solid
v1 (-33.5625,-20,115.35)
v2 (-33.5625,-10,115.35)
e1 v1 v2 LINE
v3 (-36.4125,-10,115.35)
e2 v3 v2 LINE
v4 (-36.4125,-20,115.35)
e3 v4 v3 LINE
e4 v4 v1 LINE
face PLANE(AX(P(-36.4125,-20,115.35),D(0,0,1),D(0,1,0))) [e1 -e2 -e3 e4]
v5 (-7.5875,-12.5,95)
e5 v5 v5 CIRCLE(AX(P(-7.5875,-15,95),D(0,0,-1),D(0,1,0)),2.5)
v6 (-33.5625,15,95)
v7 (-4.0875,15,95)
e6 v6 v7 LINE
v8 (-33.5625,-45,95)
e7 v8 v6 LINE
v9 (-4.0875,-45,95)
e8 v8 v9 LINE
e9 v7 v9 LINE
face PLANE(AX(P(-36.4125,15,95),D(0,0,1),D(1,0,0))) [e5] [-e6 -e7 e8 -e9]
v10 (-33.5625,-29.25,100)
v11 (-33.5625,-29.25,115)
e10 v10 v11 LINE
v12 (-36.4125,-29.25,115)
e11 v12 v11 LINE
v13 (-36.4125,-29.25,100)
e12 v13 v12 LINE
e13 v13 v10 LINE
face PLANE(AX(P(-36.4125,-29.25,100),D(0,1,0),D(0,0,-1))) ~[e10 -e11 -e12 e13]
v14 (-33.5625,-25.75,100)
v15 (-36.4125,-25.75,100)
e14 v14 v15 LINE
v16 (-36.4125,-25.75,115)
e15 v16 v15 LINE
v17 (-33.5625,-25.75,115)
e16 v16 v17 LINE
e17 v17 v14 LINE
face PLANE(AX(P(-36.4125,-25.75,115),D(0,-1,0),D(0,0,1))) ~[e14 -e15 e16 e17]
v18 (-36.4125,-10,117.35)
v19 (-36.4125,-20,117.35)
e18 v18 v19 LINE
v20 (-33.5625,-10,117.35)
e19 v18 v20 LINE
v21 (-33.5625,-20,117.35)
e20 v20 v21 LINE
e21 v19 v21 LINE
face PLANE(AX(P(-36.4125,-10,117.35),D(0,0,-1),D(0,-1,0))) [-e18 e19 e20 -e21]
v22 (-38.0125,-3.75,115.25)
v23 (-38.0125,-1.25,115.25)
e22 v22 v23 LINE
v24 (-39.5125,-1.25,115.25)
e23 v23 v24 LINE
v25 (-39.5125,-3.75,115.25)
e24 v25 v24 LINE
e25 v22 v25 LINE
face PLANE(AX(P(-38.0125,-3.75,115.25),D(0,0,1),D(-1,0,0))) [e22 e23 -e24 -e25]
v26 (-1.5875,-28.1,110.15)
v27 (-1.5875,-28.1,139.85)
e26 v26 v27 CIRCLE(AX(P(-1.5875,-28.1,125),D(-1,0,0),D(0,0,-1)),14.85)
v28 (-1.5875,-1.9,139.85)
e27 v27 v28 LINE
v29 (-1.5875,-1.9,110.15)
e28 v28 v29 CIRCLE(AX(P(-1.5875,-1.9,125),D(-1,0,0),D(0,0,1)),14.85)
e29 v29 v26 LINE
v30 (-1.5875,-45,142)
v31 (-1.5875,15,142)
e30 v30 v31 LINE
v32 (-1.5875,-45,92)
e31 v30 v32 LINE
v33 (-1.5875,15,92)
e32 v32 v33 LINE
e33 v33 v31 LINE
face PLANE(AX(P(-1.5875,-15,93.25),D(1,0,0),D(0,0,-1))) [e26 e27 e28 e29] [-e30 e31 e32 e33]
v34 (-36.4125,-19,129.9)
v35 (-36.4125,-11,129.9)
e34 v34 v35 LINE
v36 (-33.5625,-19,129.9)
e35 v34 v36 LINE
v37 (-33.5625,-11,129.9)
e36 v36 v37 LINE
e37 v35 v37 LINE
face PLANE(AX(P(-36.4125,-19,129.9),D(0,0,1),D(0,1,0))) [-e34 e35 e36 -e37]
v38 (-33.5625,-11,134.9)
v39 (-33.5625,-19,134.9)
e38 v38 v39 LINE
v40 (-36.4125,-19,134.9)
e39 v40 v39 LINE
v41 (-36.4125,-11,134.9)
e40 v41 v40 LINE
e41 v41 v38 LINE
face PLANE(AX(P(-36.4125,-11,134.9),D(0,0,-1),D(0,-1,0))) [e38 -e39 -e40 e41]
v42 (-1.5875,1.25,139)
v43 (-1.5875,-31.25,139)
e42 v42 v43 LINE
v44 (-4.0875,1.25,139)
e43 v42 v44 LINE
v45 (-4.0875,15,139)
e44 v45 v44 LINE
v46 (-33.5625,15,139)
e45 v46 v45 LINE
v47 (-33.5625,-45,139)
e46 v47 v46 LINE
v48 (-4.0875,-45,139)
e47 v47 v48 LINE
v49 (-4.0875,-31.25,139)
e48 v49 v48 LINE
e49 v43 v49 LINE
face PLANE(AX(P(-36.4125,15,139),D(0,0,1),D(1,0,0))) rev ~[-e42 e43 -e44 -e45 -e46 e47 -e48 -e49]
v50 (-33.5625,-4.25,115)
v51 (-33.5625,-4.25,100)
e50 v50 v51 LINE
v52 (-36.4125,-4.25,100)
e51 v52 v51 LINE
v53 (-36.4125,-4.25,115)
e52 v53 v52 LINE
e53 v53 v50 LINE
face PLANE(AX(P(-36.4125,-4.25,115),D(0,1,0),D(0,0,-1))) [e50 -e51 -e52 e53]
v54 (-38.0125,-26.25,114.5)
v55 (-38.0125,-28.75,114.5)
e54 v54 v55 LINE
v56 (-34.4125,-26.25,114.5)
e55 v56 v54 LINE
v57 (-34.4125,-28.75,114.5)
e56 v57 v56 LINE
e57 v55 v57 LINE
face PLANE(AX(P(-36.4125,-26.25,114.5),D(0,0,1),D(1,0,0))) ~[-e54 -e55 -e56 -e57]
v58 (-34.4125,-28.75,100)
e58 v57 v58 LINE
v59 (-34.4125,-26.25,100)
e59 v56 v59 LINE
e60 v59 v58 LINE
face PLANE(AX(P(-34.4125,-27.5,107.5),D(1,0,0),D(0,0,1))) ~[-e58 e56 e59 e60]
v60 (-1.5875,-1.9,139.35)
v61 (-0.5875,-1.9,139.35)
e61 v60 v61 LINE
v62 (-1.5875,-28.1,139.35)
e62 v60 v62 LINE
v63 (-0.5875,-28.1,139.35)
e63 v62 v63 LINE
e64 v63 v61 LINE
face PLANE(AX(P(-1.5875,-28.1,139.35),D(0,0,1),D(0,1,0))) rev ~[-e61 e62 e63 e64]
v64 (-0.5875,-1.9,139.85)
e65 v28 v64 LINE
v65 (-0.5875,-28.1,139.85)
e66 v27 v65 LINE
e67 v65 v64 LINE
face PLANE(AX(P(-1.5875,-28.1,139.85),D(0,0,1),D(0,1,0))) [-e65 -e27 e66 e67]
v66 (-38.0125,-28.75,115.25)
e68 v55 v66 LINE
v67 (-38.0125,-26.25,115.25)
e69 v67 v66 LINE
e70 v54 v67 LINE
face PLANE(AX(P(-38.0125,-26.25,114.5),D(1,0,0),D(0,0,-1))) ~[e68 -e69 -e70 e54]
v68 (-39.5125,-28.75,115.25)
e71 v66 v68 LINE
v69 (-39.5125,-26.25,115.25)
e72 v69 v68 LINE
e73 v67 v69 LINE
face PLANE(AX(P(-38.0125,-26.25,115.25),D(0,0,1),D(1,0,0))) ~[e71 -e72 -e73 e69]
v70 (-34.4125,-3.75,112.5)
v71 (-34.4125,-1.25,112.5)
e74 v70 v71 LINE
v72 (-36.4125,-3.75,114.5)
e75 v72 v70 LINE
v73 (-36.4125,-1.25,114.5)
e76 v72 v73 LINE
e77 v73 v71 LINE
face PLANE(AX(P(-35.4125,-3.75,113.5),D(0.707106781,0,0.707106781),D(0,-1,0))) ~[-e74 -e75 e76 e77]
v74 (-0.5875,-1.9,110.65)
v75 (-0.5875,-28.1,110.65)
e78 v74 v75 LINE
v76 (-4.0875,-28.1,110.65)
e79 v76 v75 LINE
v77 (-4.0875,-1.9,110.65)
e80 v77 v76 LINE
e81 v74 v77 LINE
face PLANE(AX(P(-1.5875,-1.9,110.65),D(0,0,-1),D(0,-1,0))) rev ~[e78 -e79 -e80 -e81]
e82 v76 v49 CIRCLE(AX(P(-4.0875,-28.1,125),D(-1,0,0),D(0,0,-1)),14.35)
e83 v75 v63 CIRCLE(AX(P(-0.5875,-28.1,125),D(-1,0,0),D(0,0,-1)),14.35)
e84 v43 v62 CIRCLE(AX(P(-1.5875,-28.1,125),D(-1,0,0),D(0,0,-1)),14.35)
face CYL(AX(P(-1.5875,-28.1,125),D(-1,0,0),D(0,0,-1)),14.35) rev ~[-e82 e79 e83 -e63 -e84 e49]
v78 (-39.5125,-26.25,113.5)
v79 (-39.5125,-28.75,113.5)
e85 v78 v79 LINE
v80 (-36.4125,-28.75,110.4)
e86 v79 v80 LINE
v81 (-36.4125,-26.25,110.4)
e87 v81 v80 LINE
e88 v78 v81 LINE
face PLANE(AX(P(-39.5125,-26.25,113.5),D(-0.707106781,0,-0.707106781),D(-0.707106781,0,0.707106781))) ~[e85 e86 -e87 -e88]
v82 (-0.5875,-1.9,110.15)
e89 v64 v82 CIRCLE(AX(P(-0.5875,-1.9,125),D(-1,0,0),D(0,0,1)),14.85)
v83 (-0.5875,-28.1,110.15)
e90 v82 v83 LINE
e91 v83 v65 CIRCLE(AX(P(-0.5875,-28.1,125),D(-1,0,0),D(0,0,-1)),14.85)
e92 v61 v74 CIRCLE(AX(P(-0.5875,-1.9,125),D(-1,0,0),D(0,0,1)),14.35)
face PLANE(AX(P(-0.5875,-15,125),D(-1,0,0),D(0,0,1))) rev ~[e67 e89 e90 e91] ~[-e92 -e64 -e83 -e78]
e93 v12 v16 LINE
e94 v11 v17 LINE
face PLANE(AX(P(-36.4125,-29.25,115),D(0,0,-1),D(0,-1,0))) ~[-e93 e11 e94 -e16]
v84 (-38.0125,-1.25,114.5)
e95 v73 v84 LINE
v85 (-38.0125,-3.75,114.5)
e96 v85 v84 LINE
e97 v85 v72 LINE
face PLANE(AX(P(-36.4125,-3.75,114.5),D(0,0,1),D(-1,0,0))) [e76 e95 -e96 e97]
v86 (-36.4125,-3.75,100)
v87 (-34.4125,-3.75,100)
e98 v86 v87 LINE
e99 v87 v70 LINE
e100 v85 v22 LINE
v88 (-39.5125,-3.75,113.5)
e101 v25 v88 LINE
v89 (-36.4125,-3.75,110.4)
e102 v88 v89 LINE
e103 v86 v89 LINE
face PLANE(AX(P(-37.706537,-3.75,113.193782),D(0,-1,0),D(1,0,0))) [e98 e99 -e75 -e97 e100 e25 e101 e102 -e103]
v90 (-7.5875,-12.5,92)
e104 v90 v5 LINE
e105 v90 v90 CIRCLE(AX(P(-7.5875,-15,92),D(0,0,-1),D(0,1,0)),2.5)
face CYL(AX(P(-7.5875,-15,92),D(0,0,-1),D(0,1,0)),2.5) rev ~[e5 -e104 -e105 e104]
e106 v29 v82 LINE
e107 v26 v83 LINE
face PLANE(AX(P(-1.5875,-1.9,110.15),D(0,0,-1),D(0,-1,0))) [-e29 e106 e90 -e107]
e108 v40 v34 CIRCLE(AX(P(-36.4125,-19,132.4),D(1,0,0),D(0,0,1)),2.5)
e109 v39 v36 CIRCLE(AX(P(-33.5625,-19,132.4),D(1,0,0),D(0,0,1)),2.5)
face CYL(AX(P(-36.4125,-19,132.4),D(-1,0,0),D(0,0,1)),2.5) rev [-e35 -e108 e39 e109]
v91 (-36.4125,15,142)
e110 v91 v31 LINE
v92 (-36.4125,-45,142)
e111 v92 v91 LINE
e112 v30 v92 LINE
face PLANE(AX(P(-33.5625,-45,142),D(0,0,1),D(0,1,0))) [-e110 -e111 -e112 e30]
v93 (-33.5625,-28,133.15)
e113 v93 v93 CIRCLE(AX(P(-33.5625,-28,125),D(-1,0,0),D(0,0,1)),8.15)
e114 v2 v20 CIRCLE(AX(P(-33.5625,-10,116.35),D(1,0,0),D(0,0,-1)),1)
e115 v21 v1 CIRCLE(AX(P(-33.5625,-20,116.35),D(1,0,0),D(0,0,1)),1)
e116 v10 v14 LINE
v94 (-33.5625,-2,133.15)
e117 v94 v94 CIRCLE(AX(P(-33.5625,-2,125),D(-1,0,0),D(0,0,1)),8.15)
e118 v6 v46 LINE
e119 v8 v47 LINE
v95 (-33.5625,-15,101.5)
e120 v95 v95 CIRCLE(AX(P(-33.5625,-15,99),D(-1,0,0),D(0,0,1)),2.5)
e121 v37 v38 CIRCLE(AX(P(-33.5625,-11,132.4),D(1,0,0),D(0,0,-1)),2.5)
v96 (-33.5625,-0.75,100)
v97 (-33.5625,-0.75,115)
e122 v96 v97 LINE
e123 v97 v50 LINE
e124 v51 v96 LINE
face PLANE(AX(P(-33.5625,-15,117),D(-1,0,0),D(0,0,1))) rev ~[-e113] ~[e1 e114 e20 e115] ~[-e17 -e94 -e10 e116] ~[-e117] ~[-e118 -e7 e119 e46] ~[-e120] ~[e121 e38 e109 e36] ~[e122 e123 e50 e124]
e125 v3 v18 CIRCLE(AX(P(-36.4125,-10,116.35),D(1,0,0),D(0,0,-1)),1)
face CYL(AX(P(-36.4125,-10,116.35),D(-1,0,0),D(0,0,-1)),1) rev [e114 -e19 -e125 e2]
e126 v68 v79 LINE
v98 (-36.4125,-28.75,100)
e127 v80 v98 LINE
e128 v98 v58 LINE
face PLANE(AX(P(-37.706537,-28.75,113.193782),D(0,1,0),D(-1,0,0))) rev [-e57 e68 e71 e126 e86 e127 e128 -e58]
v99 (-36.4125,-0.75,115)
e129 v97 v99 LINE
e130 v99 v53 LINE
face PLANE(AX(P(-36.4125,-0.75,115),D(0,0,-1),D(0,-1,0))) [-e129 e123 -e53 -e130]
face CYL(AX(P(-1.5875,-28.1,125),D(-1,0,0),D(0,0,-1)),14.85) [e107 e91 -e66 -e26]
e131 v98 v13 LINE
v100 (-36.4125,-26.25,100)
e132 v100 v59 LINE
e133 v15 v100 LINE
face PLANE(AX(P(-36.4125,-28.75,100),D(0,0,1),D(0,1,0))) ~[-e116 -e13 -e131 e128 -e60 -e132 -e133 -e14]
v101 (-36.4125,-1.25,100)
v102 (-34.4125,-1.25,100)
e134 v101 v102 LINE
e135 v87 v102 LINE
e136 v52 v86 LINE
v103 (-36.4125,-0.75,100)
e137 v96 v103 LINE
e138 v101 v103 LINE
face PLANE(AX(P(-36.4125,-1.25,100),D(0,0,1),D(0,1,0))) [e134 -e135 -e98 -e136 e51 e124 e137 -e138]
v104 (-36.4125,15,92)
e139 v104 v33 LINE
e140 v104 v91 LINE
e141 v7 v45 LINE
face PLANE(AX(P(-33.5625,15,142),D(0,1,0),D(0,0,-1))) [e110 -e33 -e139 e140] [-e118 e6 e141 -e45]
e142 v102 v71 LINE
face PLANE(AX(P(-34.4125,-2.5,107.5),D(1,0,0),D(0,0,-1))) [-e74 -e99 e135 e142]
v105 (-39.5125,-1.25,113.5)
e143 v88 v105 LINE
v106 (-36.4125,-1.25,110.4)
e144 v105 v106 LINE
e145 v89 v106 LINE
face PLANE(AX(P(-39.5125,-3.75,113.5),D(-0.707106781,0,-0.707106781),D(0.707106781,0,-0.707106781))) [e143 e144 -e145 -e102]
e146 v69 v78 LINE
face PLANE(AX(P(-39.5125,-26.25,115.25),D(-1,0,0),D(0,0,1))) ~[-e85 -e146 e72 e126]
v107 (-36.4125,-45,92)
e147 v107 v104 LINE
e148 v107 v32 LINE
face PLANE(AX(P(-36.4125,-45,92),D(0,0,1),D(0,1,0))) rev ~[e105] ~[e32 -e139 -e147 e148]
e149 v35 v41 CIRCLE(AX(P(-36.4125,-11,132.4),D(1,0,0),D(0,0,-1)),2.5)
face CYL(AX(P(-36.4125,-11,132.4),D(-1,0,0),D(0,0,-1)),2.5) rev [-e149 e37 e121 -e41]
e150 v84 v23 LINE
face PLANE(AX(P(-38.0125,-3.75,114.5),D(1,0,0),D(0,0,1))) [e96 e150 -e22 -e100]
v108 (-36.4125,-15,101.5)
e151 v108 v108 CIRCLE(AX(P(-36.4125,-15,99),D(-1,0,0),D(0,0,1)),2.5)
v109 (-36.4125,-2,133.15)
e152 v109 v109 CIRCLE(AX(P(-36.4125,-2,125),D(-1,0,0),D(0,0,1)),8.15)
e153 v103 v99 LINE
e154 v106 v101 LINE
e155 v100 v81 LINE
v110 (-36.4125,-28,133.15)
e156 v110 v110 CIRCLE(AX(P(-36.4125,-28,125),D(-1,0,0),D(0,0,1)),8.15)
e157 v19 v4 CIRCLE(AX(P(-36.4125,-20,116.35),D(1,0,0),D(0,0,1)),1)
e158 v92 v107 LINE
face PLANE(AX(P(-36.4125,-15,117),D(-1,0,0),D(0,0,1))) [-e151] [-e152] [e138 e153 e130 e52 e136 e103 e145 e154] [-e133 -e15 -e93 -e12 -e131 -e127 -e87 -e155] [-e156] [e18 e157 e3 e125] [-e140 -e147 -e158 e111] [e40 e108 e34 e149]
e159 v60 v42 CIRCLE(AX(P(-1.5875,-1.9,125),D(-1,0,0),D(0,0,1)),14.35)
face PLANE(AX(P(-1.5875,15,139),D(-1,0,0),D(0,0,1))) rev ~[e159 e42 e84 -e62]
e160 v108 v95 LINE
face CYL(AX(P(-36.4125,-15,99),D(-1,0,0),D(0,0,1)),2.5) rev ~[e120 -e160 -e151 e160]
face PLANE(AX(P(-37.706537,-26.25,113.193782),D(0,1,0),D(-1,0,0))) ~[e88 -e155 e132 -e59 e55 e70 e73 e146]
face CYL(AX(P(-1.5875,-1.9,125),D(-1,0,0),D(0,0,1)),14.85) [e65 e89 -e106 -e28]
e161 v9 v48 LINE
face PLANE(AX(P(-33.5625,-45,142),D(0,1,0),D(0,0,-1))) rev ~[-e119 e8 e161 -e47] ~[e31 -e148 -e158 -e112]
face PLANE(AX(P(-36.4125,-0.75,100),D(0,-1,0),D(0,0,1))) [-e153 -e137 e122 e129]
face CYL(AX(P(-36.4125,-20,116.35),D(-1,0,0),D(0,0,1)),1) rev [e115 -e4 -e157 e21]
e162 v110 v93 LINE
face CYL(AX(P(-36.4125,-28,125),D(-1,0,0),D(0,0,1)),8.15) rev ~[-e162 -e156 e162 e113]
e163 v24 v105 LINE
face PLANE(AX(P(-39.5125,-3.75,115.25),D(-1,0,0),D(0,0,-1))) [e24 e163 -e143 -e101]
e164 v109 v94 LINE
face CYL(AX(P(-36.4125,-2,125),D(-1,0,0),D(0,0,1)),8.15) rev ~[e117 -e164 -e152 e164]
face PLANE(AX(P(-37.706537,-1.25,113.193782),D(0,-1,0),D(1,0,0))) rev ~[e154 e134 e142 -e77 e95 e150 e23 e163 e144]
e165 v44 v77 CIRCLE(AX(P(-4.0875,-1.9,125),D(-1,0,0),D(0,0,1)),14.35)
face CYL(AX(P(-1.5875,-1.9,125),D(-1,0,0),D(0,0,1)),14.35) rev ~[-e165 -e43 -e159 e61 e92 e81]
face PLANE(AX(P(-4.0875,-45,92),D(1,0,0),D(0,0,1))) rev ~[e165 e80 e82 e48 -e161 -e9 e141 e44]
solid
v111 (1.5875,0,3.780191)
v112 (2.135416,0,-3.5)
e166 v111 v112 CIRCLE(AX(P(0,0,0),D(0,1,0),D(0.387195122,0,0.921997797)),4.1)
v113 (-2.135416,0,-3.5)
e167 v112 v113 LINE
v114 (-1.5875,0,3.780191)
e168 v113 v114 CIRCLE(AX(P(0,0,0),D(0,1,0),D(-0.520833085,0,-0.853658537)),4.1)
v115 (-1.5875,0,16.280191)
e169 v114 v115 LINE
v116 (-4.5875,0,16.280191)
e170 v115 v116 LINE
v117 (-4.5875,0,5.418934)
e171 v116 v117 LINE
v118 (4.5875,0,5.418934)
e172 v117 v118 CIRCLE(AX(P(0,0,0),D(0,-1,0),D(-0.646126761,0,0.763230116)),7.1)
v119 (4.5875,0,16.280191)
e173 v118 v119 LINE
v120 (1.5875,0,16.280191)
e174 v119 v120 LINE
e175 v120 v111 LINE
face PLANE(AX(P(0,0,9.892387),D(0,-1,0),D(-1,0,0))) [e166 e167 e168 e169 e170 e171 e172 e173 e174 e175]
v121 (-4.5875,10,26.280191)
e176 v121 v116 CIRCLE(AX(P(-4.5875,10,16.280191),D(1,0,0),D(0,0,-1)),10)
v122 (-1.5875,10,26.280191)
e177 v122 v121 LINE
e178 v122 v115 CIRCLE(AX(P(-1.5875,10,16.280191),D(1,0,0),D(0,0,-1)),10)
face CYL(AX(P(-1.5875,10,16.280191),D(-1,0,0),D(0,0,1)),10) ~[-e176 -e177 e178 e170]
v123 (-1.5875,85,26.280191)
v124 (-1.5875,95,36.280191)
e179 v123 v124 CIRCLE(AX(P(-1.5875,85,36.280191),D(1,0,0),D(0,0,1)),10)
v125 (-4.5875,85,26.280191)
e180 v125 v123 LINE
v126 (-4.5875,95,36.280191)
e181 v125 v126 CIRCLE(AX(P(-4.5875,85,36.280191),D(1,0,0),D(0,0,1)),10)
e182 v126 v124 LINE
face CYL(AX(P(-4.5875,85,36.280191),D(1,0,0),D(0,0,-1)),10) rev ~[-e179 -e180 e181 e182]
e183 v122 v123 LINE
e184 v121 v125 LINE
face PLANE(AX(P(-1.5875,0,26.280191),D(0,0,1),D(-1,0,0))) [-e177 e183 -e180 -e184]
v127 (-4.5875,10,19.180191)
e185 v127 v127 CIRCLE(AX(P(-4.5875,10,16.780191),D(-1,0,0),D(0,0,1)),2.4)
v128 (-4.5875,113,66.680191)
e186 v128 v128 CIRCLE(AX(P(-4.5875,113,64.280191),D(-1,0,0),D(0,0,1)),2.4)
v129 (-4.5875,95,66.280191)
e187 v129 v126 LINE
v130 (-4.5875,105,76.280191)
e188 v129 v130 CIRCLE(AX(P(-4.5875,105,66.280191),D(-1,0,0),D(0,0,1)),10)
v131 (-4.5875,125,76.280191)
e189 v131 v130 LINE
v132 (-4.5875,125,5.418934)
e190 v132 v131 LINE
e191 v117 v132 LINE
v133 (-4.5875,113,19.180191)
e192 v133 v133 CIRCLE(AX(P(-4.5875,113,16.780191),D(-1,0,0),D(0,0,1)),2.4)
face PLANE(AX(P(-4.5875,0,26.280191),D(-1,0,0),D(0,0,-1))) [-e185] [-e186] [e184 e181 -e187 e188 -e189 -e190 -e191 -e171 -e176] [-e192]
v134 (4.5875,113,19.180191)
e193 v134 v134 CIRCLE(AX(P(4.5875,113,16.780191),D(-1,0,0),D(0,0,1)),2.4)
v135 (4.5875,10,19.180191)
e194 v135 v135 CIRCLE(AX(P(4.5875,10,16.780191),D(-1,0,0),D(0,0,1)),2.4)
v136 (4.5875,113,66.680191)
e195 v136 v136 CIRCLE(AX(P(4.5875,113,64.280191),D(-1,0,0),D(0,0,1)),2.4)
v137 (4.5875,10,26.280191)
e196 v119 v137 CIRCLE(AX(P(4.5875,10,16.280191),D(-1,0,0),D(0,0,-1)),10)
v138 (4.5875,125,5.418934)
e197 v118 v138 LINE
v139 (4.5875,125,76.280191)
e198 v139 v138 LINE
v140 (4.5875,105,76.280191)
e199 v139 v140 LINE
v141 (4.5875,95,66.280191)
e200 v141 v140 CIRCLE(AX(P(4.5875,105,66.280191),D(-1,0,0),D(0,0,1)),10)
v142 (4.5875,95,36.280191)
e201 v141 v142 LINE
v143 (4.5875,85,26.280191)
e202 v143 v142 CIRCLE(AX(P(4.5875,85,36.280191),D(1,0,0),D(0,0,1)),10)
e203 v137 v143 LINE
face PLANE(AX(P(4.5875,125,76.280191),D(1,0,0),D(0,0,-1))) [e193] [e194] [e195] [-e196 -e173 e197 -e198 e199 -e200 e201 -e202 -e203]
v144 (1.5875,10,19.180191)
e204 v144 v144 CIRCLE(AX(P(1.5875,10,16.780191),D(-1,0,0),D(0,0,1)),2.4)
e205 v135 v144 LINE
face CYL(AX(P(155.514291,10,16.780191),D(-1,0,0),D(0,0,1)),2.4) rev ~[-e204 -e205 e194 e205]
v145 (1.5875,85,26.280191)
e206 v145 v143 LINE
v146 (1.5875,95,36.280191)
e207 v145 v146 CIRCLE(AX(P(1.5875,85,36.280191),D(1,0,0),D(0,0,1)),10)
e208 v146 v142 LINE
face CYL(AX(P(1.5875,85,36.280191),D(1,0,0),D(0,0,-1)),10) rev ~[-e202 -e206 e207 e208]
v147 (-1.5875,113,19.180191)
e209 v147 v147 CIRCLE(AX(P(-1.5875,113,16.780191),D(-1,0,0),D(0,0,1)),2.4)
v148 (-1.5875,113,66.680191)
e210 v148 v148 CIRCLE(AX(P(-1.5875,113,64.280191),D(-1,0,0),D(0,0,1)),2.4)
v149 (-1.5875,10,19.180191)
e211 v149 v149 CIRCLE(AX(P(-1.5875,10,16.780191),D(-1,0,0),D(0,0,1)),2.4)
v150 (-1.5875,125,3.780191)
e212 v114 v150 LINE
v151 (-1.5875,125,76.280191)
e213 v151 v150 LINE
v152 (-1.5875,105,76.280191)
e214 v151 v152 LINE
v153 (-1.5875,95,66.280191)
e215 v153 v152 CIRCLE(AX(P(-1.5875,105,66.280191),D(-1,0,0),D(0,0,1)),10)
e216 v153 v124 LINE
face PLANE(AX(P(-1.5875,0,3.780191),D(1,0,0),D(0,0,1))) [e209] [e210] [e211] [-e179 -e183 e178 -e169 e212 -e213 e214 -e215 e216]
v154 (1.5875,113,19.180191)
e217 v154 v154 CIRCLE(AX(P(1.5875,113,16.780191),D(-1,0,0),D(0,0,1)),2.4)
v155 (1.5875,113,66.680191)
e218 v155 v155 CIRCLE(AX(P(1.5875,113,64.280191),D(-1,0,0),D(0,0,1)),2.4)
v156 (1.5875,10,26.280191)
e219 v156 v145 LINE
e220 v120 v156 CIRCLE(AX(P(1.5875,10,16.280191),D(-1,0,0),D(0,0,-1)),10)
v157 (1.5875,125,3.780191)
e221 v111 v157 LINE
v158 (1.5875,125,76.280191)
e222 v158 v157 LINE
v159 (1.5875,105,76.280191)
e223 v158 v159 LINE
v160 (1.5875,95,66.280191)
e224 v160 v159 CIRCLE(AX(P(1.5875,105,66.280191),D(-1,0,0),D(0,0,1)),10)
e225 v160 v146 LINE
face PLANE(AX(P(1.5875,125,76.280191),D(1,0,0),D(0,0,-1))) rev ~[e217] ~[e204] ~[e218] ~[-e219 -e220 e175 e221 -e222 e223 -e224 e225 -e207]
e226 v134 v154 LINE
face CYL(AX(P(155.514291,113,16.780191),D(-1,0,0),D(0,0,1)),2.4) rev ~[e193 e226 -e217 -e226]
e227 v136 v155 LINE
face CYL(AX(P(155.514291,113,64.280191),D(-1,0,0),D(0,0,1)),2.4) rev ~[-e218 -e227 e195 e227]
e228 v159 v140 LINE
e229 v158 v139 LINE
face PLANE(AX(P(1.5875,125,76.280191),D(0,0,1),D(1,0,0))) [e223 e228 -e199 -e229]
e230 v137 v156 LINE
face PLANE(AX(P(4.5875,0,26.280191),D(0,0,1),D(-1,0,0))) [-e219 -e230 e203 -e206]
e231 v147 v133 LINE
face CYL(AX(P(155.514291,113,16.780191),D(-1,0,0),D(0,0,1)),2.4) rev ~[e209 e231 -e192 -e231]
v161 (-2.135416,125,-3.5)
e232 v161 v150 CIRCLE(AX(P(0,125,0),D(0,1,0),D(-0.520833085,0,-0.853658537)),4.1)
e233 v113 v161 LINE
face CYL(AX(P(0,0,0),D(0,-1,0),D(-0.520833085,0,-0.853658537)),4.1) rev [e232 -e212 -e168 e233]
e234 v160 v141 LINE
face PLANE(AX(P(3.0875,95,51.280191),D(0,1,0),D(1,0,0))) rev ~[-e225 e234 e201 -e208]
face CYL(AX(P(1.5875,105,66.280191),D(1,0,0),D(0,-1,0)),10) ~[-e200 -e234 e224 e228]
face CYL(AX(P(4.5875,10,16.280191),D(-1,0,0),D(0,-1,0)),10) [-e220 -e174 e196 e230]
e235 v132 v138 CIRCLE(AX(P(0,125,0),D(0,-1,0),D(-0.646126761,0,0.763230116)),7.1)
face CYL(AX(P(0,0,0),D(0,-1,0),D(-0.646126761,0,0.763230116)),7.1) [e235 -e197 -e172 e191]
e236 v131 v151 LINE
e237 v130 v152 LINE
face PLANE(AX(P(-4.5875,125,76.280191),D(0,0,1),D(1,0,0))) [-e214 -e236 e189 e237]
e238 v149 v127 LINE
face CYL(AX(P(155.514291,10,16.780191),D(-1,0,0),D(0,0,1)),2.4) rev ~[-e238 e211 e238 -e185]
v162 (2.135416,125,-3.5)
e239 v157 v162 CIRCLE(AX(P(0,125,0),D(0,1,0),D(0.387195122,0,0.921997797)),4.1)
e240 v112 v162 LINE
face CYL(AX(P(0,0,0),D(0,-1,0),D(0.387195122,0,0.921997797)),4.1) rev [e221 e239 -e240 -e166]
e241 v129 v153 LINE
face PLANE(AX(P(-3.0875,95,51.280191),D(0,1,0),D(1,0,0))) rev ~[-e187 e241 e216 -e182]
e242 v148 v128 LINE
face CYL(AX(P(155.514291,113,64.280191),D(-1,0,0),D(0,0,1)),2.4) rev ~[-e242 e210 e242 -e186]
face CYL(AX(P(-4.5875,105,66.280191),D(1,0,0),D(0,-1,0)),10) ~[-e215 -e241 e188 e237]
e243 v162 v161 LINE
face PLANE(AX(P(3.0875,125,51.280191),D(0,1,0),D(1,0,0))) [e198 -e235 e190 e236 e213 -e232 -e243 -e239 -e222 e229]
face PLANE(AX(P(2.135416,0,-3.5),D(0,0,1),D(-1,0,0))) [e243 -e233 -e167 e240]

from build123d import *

# Parameters (mm, degrees)
BOSS_EXTRUDE1_DEPTH  = 125
SKETCH6_W            = 3
SKETCH6_H            = 50
BOSS_EXTRUDE3_DEPTH  = 30
FILLET6_R            = 10
M4_CLEARANCE_HOLE1_D = 4.8
SKETCH16_W           = 50
SKETCH16_H           = 60
SKETCH16_R           = 8.15
BOSS_EXTRUDE9_DEPTH  = 2.85
SKETCH19_W           = 2.5
SKETCH19_H           = 60
BOSS_EXTRUDE11_DEPTH = 31.975
SKETCH20_W           = 2.5
SKETCH20_H           = 50
BOSS_EXTRUDE12_DEPTH = 60
CUT_EXTRUDE3_DEPTH   = 2.5
BOSS_EXTRUDE13_DEPTH = 1
BOSS_EXTRUDE10_START = -60
SKETCH18_W           = 34.825
SKETCH18_H           = 3
BOSS_EXTRUDE10_DEPTH = 60
CUT_EXTRUDE4_DEPTH   = 2.85
BOSS_EXTRUDE16_DEPTH = 2.5
SKETCH26_W           = 15
SKETCH26_H           = 3.5
CUT_EXTRUDE5_DEPTH   = 0.85
CHAMFER4_SIZE        = 2
SKETCH27_R           = 2.5
CUT_EXTRUDE6_DEPTH   = 2.85
SKETCH28_R           = 2.5
CUT_EXTRUDE7_DEPTH   = 3


with BuildPart() as part:
    # Sketch1 → Boss-Extrude1 (new body)
    with BuildSketch(Plane(origin=(0, 0, 0), x_dir=(1, 0, 0), z_dir=(0, 1, 0))):
        with BuildLine():
            Line((-1.5875, -3.780190967), (-1.5875, -26.280190967))
            Line((-1.5875, -26.280190967), (-4.5875, -26.280190967))
            Line((-4.5875, -26.280190967), (-4.5875, -5.41893382))
            ThreePointArc((-4.5875, -5.41893382), (0, 7.1), (4.5875, -5.41893382))
            Line((4.5875, -5.41893382), (4.5875, -26.280190967))
            Line((4.5875, -26.280190967), (1.5875, -26.280190967))
            Line((1.5875, -26.280190967), (1.5875, -3.780190967))
            ThreePointArc((1.5875, -3.780190967), (4.088437399, -0.30770056), (2.13541565, 3.5))
            Line((2.13541565, 3.5), (-2.13541565, 3.5))
            ThreePointArc((-2.13541565, 3.5), (-4.088437399, -0.30770056), (-1.5875, -3.780190967))
        make_face()
    extrude(amount=BOSS_EXTRUDE1_DEPTH)

    # Sketch6 → Boss-Extrude3 (add)
    with BuildSketch(Plane(origin=(0, 125, 0), x_dir=(1, 0, 0), z_dir=(0, 1, 0))):
        with Locations((3.0875, -51.280190967)):
            Rectangle(SKETCH6_W, SKETCH6_H)
        with Locations((-3.0875, -51.280190967)):
            Rectangle(SKETCH6_W, SKETCH6_H)
    extrude(amount=-BOSS_EXTRUDE3_DEPTH)

    # Fillet6
    fillet6_edges = [part.edges().sort_by_distance(p)[0] for p in [
        (-3.0875, 0, 26.280190967),
        (3.0875, 0, 26.280190967),
        (3.0875, 95, 26.280190967),
        (3.0875, 95, 76.280190967),
        (-3.0875, 95, 26.280190967),
        (-3.0875, 95, 76.280190967),
    ]]
    fillet(fillet6_edges, radius=FILLET6_R)

    # M4 Clearance Hole1 (through all)
    with Locations(Plane(origin=(4.5875, 0, 0), x_dir=(0, 0, -1), z_dir=(1, 0, 0))):
        with Locations((-16.780190967, 113), (-16.780190967, 10), (-64.280190967, 113)):
            Hole(M4_CLEARANCE_HOLE1_D / 2)


with BuildPart() as body_2:
    # Sketch16 → Boss-Extrude9 (new body)
    with BuildSketch(Plane.ZY.offset(36.4125)):
        with Locations((117, -15)):
            Rectangle(SKETCH16_W, SKETCH16_H)
        with Locations((125, -2)):
            Circle(SKETCH16_R, mode=Mode.SUBTRACT)
        with Locations((125, -28)):
            Circle(SKETCH16_R, mode=Mode.SUBTRACT)
        with BuildLine():
            Line((134.9, -11), (134.9, -19))
            ThreePointArc((134.9, -19), (132.4, -21.5), (129.9, -19))
            Line((129.9, -19), (129.9, -11))
            ThreePointArc((129.9, -11), (132.4, -8.5), (134.9, -11))
        make_face(mode=Mode.SUBTRACT)
        with BuildLine():
            Line((117.35, -10), (117.35, -20))
            ThreePointArc((117.35, -20), (116.35, -21), (115.35, -20))
            Line((115.35, -20), (115.35, -10))
            ThreePointArc((115.35, -10), (116.35, -9), (117.35, -10))
        make_face(mode=Mode.SUBTRACT)
    extrude(amount=-BOSS_EXTRUDE9_DEPTH)

    # Sketch19 → Boss-Extrude11 (add)
    with BuildSketch(Plane(origin=(-33.5625, 0, 0), x_dir=(0, 0, -1), z_dir=(1, 0, 0))):
        with Locations((-140.75, -15)):
            Rectangle(SKETCH19_W, SKETCH19_H)
        with Locations((-93.25, -15)):
            Rectangle(SKETCH19_W, SKETCH19_H)
    extrude(amount=BOSS_EXTRUDE11_DEPTH)

    # Sketch20 → Boss-Extrude12 (add)
    with BuildSketch(Plane.XZ.offset(45)):
        with Locations((-2.8375, 117)):
            Rectangle(SKETCH20_W, SKETCH20_H)
    extrude(amount=-BOSS_EXTRUDE12_DEPTH)

    # Sketch21<2> → Cut-Extrude3 (cut)
    with BuildSketch(Plane(origin=(-1.5875, 0, 0), x_dir=(0, 0, -1), z_dir=(1, 0, 0))):
        with BuildLine():
            Line((-110.65, -1.9), (-110.65, -28.1))
            ThreePointArc((-110.65, -28.1), (-125, -42.45), (-139.35, -28.1))
            Line((-139.35, -28.1), (-139.35, -1.9))
            ThreePointArc((-139.35, -1.9), (-125, 12.45), (-110.65, -1.9))
        make_face()
    extrude(amount=-CUT_EXTRUDE3_DEPTH, mode=Mode.SUBTRACT)

    # Sketch21 → Boss-Extrude13 (add)
    with BuildSketch(Plane(origin=(-1.5875, 0, 0), x_dir=(0, 0, -1), z_dir=(1, 0, 0))):
        with BuildLine():
            Line((-110.15, -1.9), (-110.15, -28.1))
            ThreePointArc((-110.15, -28.1), (-125, -42.95), (-139.85, -28.1))
            Line((-139.85, -28.1), (-139.85, -1.9))
            ThreePointArc((-139.85, -1.9), (-125, 12.95), (-110.15, -1.9))
        make_face()
        with BuildLine():
            Line((-110.65, -1.9), (-110.65, -28.1))
            ThreePointArc((-110.65, -28.1), (-125, -42.45), (-139.35, -28.1))
            Line((-139.35, -28.1), (-139.35, -1.9))
            ThreePointArc((-139.35, -1.9), (-125, 12.45), (-110.65, -1.9))
        make_face(mode=Mode.SUBTRACT)
    extrude(amount=BOSS_EXTRUDE13_DEPTH)

    # Sketch18 → Boss-Extrude10 (add)
    with BuildSketch(Plane.XZ.offset(45).offset(BOSS_EXTRUDE10_START)):
        with Locations((-19, 140.5)):
            Rectangle(SKETCH18_W, SKETCH18_H)
        with Locations((-19, 93.5)):
            Rectangle(SKETCH18_W, SKETCH18_H)
    extrude(amount=BOSS_EXTRUDE10_DEPTH)

    # Sketch22 → Cut-Extrude4 (cut)
    with BuildSketch(Plane.ZY.offset(36.4125)):
        Polygon((100, -1.25), (100, -0.75), (115, -0.75), (115, -4.25), (100, -4.25), (100, -3.75), (114.5, -3.75), (114.5, -1.25), align=None)
    cut_extrude4 = extrude(amount=-CUT_EXTRUDE4_DEPTH, mode=Mode.SUBTRACT)

    # Sketch25 → Boss-Extrude16 (add)
    with BuildSketch(Plane.XZ.offset(3.75)):
        Polygon((-36.4125, 114.5), (-38.0125, 114.5), (-38.0125, 115.25), (-39.5125, 115.25), (-39.5125, 113.5), (-36.4125, 110.4), align=None)
    boss_extrude16 = extrude(amount=-BOSS_EXTRUDE16_DEPTH)

    # Sketch26 → Cut-Extrude5 (cut)
    with BuildSketch(Plane(origin=(-33.5625, 0, 0), x_dir=(0, 0, -1), z_dir=(1, 0, 0))):
        with Locations((-107.5, -2.5)):
            Rectangle(SKETCH26_W, SKETCH26_H)
    cut_extrude5 = extrude(amount=-CUT_EXTRUDE5_DEPTH, mode=Mode.SUBTRACT)

    # Chamfer4
    chamfer4_edges = [body_2.edges().sort_by_distance(p)[0] for p in [
        (-34.4125, -2.5, 114.5),
    ]]
    chamfer(chamfer4_edges, length=CHAMFER4_SIZE)

    # Mirror1: Cut-Extrude4, Boss-Extrude16, Cut-Extrude5 across plane
    add(cut_extrude4.mirror(Plane.ZX.offset(-15)), mode=Mode.SUBTRACT)
    add(boss_extrude16.mirror(Plane.ZX.offset(-15)))
    add(cut_extrude5.mirror(Plane.ZX.offset(-15)), mode=Mode.SUBTRACT)

    # Sketch27 → Cut-Extrude6 (cut)
    with BuildSketch(Plane.ZY.offset(36.4125)):
        with Locations((99, -15)):
            Circle(SKETCH27_R)
    extrude(amount=-CUT_EXTRUDE6_DEPTH, mode=Mode.SUBTRACT)

    # Sketch28 → Cut-Extrude7 (cut)
    with BuildSketch(Plane(origin=(0, 0, 92), x_dir=(-1, 0, 0), z_dir=(0, 0, -1))):
        with Locations(Location((7.5875, -15, 0), (0, 0, 90))):
            Circle(SKETCH28_R)
    extrude(amount=-CUT_EXTRUDE7_DEPTH, mode=Mode.SUBTRACT)


solid = Compound([part.part, body_2.part])
